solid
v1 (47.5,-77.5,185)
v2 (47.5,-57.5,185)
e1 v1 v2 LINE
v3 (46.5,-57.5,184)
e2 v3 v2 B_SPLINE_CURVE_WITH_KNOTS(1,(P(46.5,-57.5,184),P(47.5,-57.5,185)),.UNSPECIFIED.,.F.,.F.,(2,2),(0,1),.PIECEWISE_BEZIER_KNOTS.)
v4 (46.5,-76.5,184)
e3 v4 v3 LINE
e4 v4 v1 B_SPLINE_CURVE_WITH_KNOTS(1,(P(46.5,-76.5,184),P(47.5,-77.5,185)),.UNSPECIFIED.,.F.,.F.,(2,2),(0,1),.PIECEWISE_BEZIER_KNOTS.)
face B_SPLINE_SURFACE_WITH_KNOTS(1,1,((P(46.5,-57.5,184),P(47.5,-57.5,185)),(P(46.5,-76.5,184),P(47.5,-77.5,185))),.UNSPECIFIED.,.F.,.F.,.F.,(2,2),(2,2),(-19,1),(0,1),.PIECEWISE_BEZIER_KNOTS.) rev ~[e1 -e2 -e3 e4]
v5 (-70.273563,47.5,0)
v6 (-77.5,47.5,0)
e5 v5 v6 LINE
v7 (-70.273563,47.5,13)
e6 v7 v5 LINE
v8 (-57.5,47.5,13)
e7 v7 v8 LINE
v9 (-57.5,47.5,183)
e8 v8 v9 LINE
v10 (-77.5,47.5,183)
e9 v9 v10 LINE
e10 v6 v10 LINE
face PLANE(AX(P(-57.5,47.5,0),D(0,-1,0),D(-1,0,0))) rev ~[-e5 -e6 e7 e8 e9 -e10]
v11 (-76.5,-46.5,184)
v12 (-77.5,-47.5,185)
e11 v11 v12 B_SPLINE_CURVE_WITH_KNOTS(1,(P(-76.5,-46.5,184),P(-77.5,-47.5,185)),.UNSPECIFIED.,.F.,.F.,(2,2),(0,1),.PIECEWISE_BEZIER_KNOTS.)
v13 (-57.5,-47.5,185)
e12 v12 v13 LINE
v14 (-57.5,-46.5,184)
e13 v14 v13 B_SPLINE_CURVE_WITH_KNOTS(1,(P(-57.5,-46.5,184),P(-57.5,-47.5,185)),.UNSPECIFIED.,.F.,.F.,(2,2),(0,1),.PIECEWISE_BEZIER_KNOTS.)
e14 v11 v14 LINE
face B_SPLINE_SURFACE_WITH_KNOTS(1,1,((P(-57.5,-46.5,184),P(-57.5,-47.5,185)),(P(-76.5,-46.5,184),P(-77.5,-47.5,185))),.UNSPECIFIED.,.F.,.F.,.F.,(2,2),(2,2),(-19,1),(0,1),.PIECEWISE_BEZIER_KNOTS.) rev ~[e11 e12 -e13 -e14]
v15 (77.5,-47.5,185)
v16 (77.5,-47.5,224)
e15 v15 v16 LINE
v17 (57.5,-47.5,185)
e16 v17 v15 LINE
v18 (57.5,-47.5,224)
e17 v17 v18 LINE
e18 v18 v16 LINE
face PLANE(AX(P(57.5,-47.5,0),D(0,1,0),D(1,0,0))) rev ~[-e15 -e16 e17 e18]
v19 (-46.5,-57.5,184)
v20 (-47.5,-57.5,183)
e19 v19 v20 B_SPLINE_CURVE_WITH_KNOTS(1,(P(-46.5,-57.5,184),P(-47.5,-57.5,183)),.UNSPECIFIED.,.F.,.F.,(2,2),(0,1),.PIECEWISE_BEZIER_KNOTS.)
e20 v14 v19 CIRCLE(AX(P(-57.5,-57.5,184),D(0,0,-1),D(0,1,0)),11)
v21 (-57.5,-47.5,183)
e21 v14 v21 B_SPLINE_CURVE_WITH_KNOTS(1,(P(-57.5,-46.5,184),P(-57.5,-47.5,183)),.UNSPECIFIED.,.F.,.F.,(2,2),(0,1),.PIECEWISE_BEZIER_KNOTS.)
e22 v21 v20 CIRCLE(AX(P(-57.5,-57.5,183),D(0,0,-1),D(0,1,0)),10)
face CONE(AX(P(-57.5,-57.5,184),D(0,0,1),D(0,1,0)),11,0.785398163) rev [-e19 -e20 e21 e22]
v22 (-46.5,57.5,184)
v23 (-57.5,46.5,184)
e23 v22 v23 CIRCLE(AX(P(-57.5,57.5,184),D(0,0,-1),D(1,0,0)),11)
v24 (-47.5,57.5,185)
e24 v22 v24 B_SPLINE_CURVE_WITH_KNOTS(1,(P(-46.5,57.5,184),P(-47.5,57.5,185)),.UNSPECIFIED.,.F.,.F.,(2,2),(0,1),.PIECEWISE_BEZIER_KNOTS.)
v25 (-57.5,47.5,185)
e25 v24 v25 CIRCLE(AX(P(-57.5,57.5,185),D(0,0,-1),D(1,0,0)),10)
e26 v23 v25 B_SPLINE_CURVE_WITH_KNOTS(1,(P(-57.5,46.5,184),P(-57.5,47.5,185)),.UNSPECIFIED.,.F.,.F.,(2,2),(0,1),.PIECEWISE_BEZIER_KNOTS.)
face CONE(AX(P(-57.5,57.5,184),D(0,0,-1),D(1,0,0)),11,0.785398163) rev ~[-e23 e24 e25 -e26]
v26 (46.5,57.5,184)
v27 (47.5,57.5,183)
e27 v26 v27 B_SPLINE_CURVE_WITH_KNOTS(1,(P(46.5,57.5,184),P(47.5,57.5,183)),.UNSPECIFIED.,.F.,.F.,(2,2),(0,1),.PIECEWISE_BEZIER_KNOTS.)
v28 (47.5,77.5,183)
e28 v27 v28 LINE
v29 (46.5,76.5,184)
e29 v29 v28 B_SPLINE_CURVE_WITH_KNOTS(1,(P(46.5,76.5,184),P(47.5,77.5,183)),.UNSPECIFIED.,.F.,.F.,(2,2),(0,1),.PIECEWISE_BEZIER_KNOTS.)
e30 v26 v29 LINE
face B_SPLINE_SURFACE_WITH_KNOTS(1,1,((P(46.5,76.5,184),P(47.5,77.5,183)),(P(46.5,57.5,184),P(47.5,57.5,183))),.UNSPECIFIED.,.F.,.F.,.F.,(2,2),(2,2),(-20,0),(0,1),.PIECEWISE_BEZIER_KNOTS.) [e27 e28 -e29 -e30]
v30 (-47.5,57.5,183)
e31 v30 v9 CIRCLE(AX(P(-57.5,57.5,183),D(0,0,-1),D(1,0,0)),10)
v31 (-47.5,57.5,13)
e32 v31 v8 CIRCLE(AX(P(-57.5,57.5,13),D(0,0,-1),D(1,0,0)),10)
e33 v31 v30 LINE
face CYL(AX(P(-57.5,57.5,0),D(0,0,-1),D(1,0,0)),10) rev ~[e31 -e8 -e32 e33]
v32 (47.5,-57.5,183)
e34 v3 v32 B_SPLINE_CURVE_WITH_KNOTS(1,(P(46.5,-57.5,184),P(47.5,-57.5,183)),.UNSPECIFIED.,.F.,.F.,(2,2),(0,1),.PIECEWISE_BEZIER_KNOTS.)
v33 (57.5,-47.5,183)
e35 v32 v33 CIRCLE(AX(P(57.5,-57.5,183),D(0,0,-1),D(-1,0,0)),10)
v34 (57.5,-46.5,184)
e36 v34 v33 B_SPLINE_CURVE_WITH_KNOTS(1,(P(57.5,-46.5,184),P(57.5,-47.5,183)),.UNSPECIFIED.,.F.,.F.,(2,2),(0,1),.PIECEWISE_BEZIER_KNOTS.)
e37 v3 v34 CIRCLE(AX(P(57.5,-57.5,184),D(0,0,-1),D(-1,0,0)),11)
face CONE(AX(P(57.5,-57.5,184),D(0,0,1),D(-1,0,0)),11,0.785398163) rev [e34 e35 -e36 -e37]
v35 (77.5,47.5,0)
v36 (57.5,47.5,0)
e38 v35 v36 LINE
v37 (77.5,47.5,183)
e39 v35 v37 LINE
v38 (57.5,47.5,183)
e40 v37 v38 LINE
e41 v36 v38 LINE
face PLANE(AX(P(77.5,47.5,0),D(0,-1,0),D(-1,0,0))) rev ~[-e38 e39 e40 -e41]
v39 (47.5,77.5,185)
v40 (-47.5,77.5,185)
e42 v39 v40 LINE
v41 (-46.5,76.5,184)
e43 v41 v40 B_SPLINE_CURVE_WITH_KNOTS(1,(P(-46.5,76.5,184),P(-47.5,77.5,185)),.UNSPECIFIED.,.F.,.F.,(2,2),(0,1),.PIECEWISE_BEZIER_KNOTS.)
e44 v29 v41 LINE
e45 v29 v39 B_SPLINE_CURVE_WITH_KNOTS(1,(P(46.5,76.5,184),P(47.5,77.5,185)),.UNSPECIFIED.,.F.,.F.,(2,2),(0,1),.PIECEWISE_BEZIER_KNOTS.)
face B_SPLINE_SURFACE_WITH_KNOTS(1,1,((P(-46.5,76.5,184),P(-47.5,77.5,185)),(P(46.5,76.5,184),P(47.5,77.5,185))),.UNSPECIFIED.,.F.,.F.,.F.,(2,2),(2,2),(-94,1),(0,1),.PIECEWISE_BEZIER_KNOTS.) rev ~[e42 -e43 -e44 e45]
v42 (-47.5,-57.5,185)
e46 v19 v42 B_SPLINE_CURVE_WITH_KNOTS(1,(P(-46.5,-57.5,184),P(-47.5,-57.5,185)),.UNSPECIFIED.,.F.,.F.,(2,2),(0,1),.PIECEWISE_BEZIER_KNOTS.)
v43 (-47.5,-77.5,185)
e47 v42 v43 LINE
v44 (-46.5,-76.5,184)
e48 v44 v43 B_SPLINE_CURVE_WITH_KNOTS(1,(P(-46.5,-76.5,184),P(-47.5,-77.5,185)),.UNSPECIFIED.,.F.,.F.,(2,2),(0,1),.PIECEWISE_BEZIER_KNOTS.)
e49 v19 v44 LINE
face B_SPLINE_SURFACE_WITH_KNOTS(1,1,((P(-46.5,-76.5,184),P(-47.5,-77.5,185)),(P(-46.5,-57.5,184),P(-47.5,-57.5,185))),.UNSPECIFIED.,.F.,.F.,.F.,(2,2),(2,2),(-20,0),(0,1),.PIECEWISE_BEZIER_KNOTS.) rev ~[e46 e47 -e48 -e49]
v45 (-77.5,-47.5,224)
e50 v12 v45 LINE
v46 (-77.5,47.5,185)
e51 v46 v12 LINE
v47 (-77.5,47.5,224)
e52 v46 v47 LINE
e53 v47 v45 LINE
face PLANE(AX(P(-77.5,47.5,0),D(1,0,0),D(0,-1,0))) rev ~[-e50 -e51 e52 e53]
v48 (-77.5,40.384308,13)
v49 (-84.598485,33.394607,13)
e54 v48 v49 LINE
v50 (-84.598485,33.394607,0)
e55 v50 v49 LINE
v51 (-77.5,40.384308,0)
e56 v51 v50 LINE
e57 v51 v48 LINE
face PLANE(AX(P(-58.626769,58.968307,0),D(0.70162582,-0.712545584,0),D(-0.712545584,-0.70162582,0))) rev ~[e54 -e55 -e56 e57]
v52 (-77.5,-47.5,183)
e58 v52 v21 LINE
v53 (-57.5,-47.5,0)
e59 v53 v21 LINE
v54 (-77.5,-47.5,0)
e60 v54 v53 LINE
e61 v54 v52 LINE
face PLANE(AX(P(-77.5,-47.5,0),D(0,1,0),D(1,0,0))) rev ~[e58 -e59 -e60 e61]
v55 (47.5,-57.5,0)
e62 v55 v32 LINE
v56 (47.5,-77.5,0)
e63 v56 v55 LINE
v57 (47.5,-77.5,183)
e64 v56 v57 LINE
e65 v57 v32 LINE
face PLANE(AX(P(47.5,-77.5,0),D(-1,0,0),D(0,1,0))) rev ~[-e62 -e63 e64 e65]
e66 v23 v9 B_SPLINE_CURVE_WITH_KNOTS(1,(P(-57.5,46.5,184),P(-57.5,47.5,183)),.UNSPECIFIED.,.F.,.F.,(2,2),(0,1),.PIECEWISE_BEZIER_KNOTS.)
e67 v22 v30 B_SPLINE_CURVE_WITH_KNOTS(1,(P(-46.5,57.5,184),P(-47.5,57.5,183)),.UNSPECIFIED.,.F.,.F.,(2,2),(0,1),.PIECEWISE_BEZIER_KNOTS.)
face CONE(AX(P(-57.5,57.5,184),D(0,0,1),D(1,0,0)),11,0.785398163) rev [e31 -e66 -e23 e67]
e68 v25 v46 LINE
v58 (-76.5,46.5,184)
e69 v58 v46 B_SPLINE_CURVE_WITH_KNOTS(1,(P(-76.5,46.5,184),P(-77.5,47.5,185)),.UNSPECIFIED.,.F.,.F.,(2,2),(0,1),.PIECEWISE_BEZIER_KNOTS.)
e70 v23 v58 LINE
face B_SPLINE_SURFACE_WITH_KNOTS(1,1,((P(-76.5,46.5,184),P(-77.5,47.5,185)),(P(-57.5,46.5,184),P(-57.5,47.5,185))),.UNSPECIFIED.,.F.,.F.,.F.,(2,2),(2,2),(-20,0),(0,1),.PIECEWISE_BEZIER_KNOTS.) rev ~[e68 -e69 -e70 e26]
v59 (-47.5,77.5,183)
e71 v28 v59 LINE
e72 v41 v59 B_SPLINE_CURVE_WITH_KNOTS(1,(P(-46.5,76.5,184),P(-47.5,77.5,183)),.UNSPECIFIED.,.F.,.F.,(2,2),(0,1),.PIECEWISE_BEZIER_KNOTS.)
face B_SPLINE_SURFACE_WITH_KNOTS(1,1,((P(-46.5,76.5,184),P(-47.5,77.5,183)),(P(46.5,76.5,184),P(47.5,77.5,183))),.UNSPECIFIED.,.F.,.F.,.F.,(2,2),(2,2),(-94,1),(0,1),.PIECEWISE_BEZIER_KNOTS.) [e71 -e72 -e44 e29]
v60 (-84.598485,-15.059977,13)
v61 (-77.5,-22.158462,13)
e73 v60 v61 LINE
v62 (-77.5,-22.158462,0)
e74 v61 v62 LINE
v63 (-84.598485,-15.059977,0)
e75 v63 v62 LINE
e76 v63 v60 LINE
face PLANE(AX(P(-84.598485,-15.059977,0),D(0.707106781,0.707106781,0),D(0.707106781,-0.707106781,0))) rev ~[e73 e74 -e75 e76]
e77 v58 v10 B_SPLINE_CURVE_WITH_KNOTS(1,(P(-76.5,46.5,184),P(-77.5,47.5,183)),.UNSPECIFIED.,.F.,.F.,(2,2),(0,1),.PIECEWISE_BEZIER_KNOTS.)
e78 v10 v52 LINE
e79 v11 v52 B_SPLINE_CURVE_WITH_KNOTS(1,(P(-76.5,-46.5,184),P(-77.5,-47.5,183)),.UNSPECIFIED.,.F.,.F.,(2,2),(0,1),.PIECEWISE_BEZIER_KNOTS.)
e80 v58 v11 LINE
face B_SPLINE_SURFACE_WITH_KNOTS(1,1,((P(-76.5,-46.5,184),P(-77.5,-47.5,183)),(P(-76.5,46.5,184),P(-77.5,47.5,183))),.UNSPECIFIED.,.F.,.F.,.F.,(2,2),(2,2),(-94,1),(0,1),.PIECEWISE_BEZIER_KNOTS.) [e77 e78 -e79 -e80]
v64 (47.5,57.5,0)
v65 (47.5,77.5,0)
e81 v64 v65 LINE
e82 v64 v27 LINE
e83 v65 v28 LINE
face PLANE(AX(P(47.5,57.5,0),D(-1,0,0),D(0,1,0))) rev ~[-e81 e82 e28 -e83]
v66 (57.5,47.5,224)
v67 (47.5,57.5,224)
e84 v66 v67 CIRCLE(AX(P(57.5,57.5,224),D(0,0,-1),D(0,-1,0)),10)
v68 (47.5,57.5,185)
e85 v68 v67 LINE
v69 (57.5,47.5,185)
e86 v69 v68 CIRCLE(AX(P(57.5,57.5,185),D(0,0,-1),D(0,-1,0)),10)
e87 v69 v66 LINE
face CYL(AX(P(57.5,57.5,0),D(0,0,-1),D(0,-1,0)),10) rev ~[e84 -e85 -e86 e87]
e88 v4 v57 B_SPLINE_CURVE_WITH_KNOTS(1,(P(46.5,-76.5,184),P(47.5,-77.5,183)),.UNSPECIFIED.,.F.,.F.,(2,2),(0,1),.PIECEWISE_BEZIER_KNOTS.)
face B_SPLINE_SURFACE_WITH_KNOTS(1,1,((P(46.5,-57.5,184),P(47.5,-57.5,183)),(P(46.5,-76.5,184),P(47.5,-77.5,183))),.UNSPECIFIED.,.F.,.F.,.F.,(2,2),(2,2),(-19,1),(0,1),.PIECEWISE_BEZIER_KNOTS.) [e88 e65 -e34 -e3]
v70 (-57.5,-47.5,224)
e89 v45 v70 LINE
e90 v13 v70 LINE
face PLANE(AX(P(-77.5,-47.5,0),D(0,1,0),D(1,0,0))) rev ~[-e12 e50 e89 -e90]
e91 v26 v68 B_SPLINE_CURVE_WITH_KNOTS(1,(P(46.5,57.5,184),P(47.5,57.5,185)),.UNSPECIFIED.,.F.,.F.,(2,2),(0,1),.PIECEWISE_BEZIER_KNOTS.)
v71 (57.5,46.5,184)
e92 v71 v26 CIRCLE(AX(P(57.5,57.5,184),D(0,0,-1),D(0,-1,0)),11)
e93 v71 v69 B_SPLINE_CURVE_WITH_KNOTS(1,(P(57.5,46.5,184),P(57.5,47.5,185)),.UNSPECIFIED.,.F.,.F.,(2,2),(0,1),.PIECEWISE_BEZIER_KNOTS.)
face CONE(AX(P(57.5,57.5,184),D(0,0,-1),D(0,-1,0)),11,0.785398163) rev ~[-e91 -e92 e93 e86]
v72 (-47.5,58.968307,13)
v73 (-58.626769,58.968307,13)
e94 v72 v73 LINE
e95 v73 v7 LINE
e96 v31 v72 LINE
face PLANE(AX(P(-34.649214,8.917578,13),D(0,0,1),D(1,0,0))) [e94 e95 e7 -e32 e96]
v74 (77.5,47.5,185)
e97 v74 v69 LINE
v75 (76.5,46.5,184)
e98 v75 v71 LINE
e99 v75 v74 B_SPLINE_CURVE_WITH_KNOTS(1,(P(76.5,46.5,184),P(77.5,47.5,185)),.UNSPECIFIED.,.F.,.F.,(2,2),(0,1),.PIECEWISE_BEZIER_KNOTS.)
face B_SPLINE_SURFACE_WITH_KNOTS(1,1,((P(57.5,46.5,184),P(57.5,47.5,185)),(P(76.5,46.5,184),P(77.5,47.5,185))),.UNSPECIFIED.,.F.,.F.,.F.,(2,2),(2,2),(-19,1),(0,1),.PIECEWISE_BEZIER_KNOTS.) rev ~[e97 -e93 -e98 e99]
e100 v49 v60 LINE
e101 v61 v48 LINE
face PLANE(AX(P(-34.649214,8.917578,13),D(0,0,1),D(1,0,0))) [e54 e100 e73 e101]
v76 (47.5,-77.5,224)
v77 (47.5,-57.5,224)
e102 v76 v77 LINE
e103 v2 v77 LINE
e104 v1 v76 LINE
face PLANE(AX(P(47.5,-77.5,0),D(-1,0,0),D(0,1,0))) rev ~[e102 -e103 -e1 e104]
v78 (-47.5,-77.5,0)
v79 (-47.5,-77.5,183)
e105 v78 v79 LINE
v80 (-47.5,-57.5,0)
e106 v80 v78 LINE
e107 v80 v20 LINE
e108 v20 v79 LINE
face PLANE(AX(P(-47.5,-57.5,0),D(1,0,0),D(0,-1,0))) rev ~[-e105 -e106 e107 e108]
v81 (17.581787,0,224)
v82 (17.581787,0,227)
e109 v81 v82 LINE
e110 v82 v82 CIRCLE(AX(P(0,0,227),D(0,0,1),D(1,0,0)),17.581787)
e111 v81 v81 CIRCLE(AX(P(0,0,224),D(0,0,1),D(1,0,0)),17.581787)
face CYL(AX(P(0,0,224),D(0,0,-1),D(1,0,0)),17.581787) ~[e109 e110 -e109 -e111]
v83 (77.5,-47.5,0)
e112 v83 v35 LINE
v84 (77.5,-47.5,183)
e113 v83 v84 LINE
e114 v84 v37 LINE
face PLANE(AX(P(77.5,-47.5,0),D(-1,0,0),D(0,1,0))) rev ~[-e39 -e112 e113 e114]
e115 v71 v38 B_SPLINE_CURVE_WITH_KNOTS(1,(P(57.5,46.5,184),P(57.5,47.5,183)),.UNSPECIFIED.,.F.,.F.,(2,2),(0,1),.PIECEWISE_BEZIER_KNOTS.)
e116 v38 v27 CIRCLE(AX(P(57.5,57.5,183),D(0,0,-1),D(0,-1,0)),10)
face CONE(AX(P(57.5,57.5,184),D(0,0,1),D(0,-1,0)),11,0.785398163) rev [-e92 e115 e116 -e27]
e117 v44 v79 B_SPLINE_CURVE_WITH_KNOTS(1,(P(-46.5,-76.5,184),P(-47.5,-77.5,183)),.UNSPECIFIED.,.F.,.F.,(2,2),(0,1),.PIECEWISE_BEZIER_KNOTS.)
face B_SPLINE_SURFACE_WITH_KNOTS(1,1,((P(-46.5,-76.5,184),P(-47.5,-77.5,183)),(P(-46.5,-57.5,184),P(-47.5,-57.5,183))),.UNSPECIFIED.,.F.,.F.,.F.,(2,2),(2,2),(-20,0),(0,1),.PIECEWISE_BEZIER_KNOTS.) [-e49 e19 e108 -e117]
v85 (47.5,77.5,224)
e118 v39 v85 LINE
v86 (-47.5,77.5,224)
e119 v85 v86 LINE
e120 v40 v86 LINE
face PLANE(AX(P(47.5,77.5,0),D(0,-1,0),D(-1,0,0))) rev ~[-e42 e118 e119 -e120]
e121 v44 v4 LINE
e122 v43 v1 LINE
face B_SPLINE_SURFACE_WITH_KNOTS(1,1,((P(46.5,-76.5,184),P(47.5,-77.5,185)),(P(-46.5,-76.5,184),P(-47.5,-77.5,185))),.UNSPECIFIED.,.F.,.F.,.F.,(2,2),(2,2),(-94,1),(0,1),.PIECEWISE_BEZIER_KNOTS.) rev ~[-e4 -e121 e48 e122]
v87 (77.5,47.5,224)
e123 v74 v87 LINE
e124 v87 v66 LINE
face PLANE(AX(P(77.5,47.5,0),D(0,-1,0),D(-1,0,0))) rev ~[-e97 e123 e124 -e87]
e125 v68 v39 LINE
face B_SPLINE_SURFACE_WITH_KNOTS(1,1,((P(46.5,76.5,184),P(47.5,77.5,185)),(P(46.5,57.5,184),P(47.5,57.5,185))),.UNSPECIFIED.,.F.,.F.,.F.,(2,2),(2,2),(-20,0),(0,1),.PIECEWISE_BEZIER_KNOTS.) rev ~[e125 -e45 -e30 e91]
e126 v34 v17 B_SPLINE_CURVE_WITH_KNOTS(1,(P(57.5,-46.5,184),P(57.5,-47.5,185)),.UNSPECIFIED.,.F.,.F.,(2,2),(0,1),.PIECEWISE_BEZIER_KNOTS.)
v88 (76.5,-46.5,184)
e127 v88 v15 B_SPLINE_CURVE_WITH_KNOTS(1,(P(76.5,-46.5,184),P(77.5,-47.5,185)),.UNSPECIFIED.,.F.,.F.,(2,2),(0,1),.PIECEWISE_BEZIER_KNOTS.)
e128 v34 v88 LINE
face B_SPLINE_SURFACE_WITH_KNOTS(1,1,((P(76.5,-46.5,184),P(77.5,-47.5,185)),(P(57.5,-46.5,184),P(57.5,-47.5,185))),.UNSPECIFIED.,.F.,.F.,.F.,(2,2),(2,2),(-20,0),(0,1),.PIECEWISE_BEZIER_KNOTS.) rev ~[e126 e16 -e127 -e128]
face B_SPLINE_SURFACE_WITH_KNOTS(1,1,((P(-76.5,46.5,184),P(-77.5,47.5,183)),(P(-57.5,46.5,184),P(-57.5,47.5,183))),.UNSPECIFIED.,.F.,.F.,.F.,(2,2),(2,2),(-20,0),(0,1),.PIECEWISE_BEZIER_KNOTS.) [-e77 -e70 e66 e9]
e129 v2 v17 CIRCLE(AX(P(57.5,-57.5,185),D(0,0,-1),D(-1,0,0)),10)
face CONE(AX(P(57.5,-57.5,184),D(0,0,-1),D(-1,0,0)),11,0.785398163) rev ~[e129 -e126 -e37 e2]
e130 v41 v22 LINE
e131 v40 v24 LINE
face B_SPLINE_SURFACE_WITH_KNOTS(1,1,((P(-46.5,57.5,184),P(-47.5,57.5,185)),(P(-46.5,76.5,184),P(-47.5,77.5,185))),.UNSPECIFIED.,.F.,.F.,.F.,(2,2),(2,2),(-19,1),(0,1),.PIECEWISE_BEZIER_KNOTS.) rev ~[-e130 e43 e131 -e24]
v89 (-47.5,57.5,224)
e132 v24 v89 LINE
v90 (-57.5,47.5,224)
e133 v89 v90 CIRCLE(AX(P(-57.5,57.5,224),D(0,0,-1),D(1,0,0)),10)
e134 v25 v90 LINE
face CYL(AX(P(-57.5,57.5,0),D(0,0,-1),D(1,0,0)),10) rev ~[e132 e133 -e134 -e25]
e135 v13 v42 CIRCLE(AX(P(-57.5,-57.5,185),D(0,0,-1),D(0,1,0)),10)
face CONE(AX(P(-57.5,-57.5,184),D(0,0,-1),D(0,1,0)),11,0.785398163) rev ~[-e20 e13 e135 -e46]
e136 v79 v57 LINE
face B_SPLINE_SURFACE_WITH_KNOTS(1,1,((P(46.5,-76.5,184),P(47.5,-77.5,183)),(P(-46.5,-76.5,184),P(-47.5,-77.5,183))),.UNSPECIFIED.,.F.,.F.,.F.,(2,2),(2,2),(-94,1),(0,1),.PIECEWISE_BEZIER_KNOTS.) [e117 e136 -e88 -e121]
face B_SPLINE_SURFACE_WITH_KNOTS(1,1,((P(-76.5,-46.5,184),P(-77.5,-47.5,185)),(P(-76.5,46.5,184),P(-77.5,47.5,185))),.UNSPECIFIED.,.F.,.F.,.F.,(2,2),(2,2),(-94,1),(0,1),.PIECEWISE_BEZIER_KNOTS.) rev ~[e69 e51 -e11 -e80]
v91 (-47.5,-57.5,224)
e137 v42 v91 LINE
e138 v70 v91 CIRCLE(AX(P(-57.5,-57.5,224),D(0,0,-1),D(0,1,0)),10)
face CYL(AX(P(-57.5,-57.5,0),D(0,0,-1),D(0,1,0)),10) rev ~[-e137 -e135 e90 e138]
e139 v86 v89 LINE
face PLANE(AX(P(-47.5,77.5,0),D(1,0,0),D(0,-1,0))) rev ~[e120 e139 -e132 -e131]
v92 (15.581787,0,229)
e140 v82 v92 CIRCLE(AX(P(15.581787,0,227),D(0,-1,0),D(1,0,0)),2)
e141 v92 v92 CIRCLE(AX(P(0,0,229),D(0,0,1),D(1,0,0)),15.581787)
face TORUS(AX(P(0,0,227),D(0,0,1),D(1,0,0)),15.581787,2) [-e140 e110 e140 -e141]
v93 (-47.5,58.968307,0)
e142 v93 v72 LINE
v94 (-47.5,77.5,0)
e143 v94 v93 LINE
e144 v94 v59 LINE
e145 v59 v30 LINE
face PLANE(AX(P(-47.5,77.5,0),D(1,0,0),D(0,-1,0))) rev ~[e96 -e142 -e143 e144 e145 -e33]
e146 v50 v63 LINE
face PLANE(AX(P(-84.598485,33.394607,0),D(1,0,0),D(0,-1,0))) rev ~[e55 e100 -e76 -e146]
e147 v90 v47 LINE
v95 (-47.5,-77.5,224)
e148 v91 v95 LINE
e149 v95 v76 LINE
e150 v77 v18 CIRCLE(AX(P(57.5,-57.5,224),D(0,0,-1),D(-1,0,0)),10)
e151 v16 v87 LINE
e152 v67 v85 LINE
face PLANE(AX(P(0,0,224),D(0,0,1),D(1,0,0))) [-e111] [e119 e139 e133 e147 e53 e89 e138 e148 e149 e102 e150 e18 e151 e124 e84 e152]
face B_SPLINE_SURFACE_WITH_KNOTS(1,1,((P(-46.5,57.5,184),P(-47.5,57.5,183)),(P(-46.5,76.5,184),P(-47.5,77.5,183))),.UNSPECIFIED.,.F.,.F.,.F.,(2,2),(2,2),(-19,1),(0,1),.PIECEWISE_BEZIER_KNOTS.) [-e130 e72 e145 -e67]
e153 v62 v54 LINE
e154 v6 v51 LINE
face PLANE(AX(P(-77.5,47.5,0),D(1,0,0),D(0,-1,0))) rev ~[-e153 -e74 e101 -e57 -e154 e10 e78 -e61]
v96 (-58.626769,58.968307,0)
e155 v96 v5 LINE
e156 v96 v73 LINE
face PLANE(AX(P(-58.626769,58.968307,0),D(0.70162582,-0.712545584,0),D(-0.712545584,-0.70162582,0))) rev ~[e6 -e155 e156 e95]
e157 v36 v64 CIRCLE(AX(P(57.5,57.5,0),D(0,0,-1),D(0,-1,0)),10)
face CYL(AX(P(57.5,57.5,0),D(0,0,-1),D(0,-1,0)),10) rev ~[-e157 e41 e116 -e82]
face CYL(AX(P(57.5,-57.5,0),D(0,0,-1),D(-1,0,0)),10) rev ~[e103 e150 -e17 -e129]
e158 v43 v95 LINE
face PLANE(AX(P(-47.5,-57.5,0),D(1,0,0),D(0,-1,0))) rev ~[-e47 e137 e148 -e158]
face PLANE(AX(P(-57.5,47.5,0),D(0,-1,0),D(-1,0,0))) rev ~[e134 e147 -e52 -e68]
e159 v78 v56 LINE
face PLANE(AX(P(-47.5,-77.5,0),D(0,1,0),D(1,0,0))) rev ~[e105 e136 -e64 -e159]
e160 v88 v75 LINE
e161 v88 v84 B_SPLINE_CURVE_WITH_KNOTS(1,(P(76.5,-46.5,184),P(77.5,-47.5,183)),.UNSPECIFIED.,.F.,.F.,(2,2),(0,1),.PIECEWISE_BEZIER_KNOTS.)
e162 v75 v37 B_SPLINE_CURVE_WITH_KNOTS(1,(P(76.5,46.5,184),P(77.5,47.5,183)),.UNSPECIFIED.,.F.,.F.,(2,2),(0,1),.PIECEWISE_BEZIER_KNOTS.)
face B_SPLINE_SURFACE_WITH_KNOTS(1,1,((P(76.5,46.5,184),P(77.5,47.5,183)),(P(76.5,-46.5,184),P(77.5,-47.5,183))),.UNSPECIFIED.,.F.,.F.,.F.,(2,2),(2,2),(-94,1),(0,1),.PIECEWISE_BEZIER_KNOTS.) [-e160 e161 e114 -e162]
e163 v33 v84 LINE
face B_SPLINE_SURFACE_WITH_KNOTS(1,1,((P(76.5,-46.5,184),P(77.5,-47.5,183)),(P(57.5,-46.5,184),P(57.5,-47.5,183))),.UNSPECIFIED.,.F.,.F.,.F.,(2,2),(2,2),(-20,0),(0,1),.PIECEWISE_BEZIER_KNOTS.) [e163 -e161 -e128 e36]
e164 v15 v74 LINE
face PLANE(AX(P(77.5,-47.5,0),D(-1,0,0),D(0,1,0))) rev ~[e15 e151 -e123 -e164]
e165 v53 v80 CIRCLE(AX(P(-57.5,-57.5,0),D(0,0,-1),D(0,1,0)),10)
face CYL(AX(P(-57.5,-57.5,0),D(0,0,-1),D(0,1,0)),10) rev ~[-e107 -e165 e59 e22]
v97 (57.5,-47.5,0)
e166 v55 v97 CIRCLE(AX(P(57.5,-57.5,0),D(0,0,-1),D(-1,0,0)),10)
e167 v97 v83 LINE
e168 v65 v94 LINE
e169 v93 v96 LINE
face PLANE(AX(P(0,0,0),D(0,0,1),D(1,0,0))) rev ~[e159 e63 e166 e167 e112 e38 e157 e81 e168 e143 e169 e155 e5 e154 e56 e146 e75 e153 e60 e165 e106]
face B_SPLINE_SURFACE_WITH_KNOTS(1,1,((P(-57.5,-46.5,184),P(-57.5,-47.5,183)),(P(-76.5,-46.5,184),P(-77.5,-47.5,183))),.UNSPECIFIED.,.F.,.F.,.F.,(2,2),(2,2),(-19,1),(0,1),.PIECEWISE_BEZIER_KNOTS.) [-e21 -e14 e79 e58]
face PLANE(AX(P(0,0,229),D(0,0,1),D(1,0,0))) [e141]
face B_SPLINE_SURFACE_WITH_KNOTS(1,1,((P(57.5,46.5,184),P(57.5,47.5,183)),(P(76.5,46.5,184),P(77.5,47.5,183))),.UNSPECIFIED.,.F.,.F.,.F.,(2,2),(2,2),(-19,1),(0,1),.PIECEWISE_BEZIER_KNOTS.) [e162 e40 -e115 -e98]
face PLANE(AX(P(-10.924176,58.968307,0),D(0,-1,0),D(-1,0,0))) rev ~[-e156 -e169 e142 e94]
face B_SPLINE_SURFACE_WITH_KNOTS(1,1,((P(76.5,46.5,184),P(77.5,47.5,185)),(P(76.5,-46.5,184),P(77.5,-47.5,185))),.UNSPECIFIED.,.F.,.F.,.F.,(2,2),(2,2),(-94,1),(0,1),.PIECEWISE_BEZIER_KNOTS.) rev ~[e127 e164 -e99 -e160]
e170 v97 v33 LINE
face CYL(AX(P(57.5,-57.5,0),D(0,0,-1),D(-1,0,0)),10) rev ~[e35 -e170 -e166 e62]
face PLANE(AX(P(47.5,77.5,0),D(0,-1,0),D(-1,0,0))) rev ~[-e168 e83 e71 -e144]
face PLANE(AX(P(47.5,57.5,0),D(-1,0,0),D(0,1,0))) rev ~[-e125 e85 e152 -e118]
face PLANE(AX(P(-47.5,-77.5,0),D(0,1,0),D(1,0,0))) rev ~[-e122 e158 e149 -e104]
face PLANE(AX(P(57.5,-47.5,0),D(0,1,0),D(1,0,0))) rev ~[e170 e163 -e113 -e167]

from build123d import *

# Parameters (mm, degrees)
Y_KSEKLIK_EKSTR_ZYON1_DEPTH     = 13
Y_KSEKLIK_EKSTR_ZYON2_DEPTH     = 224
KES_EKSTR_ZYON1_DEPTH           = 1
KES_EKSTR_ZYON1_TAPER           = 45
KES_EKSTR_ZYON1_OTHER_WAY_DEPTH = 1
KES_EKSTR_ZYON1_OTHER_WAY_TAPER = 45
IZIM8_R                         = 17.581787387
Y_KSEKLIK_EKSTR_ZYON3_DEPTH     = 5
RADYUS2_R                       = 2


with BuildPart() as part:
    # Çizim1 → Yükseklik-Ekstrüzyon1 (new body)
    with BuildSketch(Plane.XY):
        Polygon((-58.626768768, 58.968306861), (-84.598484816, 33.394607486), (-84.598484816, -15.059977091), (-58.626768768, -41.031693139), (-10.172184191, -41.031693139), (15.401515184, -15.059977091), (15.401515184, 32.642615461), (-10.924176216, 58.968306861), align=None)
    extrude(amount=Y_KSEKLIK_EKSTR_ZYON1_DEPTH)

    # Çizim2 → Yükseklik-Ekstrüzyon2 (add)
    with BuildSketch(Plane.XY):
        with BuildLine():
            Line((47.5, 57.5), (47.5, 77.5))
            Line((47.5, 77.5), (-47.5, 77.5))
            Line((-47.5, 77.5), (-47.5, 57.5))
            ThreePointArc((-47.5, 57.5), (-50.428932188, 50.428932188), (-57.5, 47.5))
            Line((-57.5, 47.5), (-77.5, 47.5))
            Line((-77.5, 47.5), (-77.5, -47.5))
            Line((-77.5, -47.5), (-57.5, -47.5))
            ThreePointArc((-57.5, -47.5), (-50.428932188, -50.428932188), (-47.5, -57.5))
            Line((-47.5, -57.5), (-47.5, -77.5))
            Line((-47.5, -77.5), (47.5, -77.5))
            Line((47.5, -77.5), (47.5, -57.5))
            ThreePointArc((47.5, -57.5), (50.428932188, -50.428932188), (57.5, -47.5))
            Line((57.5, -47.5), (77.5, -47.5))
            Line((77.5, -47.5), (77.5, 47.5))
            Line((77.5, 47.5), (57.5, 47.5))
            ThreePointArc((57.5, 47.5), (50.428932188, 50.428932188), (47.5, 57.5))
        make_face()
    extrude(amount=Y_KSEKLIK_EKSTR_ZYON2_DEPTH)

    # Çizim7 → Kes-Ekstrüzyon1 (cut)
    with BuildSketch(Plane.XY.offset(184)):
        with BuildLine():
            Line((57.5, -56.5), (86.5, -56.5))
            Line((86.5, -56.5), (86.5, 56.5))
            Line((86.5, 56.5), (57.5, 56.5))
            ThreePointArc((57.5, 56.5), (56.792893219, 56.792893219), (56.5, 57.5))
            Line((56.5, 57.5), (56.5, 86.5))
            Line((56.5, 86.5), (-56.5, 86.5))
            Line((-56.5, 86.5), (-56.5, 57.5))
            ThreePointArc((-56.5, 57.5), (-56.792893219, 56.792893219), (-57.5, 56.5))
            Line((-57.5, 56.5), (-86.5, 56.5))
            Line((-86.5, 56.5), (-86.5, -56.5))
            Line((-86.5, -56.5), (-57.5, -56.5))
            ThreePointArc((-57.5, -56.5), (-56.792893219, -56.792893219), (-56.5, -57.5))
            Line((-56.5, -57.5), (-56.5, -86.5))
            Line((-56.5, -86.5), (56.5, -86.5))
            Line((56.5, -86.5), (56.5, -57.5))
            ThreePointArc((56.5, -57.5), (56.792893219, -56.792893219), (57.5, -56.5))
        make_face()
        with BuildLine():
            Line((-46.5, -76.5), (46.5, -76.5))
            Line((46.5, -76.5), (46.5, -57.5))
            ThreePointArc((46.5, -57.5), (49.721825407, -49.721825407), (57.5, -46.5))
            Line((57.5, -46.5), (76.5, -46.5))
            Line((76.5, -46.5), (76.5, 46.5))
            Line((76.5, 46.5), (57.5, 46.5))
            ThreePointArc((57.5, 46.5), (49.721825407, 49.721825407), (46.5, 57.5))
            Line((46.5, 57.5), (46.5, 76.5))
            Line((46.5, 76.5), (-46.5, 76.5))
            Line((-46.5, 76.5), (-46.5, 57.5))
            ThreePointArc((-46.5, 57.5), (-49.721825407, 49.721825407), (-57.5, 46.5))
            Line((-57.5, 46.5), (-76.5, 46.5))
            Line((-76.5, 46.5), (-76.5, -46.5))
            Line((-76.5, -46.5), (-57.5, -46.5))
            ThreePointArc((-57.5, -46.5), (-49.721825407, -49.721825407), (-46.5, -57.5))
            Line((-46.5, -57.5), (-46.5, -76.5))
        make_face(mode=Mode.SUBTRACT)
    extrude(amount=-KES_EKSTR_ZYON1_DEPTH, taper=KES_EKSTR_ZYON1_TAPER, mode=Mode.SUBTRACT)

    # Çizim7 → Kes-Ekstrüzyon1 other way (cut)
    with BuildSketch(Plane.XY.offset(184)):
        with BuildLine():
            Line((57.5, -56.5), (86.5, -56.5))
            Line((86.5, -56.5), (86.5, 56.5))
            Line((86.5, 56.5), (57.5, 56.5))
            ThreePointArc((57.5, 56.5), (56.792893219, 56.792893219), (56.5, 57.5))
            Line((56.5, 57.5), (56.5, 86.5))
            Line((56.5, 86.5), (-56.5, 86.5))
            Line((-56.5, 86.5), (-56.5, 57.5))
            ThreePointArc((-56.5, 57.5), (-56.792893219, 56.792893219), (-57.5, 56.5))
            Line((-57.5, 56.5), (-86.5, 56.5))
            Line((-86.5, 56.5), (-86.5, -56.5))
            Line((-86.5, -56.5), (-57.5, -56.5))
            ThreePointArc((-57.5, -56.5), (-56.792893219, -56.792893219), (-56.5, -57.5))
            Line((-56.5, -57.5), (-56.5, -86.5))
            Line((-56.5, -86.5), (56.5, -86.5))
            Line((56.5, -86.5), (56.5, -57.5))
            ThreePointArc((56.5, -57.5), (56.792893219, -56.792893219), (57.5, -56.5))
        make_face()
        with BuildLine():
            Line((-46.5, -76.5), (46.5, -76.5))
            Line((46.5, -76.5), (46.5, -57.5))
            ThreePointArc((46.5, -57.5), (49.721825407, -49.721825407), (57.5, -46.5))
            Line((57.5, -46.5), (76.5, -46.5))
            Line((76.5, -46.5), (76.5, 46.5))
            Line((76.5, 46.5), (57.5, 46.5))
            ThreePointArc((57.5, 46.5), (49.721825407, 49.721825407), (46.5, 57.5))
            Line((46.5, 57.5), (46.5, 76.5))
            Line((46.5, 76.5), (-46.5, 76.5))
            Line((-46.5, 76.5), (-46.5, 57.5))
            ThreePointArc((-46.5, 57.5), (-49.721825407, 49.721825407), (-57.5, 46.5))
            Line((-57.5, 46.5), (-76.5, 46.5))
            Line((-76.5, 46.5), (-76.5, -46.5))
            Line((-76.5, -46.5), (-57.5, -46.5))
            ThreePointArc((-57.5, -46.5), (-49.721825407, -49.721825407), (-46.5, -57.5))
            Line((-46.5, -57.5), (-46.5, -76.5))
        make_face(mode=Mode.SUBTRACT)
    extrude(amount=KES_EKSTR_ZYON1_OTHER_WAY_DEPTH, taper=KES_EKSTR_ZYON1_OTHER_WAY_TAPER, mode=Mode.SUBTRACT)

    # Çizim8 → Yükseklik-Ekstrüzyon3 (add)
    with BuildSketch(Plane.XY.offset(224)):
        Circle(IZIM8_R)
    extrude(amount=Y_KSEKLIK_EKSTR_ZYON3_DEPTH)

    # Radyus2
    radyus2_edges = [part.edges().sort_by_distance(p)[0] for p in [
        (-17.581787387, 0, 229),
    ]]
    fillet(radyus2_edges, radius=RADYUS2_R)


solid = part.part
